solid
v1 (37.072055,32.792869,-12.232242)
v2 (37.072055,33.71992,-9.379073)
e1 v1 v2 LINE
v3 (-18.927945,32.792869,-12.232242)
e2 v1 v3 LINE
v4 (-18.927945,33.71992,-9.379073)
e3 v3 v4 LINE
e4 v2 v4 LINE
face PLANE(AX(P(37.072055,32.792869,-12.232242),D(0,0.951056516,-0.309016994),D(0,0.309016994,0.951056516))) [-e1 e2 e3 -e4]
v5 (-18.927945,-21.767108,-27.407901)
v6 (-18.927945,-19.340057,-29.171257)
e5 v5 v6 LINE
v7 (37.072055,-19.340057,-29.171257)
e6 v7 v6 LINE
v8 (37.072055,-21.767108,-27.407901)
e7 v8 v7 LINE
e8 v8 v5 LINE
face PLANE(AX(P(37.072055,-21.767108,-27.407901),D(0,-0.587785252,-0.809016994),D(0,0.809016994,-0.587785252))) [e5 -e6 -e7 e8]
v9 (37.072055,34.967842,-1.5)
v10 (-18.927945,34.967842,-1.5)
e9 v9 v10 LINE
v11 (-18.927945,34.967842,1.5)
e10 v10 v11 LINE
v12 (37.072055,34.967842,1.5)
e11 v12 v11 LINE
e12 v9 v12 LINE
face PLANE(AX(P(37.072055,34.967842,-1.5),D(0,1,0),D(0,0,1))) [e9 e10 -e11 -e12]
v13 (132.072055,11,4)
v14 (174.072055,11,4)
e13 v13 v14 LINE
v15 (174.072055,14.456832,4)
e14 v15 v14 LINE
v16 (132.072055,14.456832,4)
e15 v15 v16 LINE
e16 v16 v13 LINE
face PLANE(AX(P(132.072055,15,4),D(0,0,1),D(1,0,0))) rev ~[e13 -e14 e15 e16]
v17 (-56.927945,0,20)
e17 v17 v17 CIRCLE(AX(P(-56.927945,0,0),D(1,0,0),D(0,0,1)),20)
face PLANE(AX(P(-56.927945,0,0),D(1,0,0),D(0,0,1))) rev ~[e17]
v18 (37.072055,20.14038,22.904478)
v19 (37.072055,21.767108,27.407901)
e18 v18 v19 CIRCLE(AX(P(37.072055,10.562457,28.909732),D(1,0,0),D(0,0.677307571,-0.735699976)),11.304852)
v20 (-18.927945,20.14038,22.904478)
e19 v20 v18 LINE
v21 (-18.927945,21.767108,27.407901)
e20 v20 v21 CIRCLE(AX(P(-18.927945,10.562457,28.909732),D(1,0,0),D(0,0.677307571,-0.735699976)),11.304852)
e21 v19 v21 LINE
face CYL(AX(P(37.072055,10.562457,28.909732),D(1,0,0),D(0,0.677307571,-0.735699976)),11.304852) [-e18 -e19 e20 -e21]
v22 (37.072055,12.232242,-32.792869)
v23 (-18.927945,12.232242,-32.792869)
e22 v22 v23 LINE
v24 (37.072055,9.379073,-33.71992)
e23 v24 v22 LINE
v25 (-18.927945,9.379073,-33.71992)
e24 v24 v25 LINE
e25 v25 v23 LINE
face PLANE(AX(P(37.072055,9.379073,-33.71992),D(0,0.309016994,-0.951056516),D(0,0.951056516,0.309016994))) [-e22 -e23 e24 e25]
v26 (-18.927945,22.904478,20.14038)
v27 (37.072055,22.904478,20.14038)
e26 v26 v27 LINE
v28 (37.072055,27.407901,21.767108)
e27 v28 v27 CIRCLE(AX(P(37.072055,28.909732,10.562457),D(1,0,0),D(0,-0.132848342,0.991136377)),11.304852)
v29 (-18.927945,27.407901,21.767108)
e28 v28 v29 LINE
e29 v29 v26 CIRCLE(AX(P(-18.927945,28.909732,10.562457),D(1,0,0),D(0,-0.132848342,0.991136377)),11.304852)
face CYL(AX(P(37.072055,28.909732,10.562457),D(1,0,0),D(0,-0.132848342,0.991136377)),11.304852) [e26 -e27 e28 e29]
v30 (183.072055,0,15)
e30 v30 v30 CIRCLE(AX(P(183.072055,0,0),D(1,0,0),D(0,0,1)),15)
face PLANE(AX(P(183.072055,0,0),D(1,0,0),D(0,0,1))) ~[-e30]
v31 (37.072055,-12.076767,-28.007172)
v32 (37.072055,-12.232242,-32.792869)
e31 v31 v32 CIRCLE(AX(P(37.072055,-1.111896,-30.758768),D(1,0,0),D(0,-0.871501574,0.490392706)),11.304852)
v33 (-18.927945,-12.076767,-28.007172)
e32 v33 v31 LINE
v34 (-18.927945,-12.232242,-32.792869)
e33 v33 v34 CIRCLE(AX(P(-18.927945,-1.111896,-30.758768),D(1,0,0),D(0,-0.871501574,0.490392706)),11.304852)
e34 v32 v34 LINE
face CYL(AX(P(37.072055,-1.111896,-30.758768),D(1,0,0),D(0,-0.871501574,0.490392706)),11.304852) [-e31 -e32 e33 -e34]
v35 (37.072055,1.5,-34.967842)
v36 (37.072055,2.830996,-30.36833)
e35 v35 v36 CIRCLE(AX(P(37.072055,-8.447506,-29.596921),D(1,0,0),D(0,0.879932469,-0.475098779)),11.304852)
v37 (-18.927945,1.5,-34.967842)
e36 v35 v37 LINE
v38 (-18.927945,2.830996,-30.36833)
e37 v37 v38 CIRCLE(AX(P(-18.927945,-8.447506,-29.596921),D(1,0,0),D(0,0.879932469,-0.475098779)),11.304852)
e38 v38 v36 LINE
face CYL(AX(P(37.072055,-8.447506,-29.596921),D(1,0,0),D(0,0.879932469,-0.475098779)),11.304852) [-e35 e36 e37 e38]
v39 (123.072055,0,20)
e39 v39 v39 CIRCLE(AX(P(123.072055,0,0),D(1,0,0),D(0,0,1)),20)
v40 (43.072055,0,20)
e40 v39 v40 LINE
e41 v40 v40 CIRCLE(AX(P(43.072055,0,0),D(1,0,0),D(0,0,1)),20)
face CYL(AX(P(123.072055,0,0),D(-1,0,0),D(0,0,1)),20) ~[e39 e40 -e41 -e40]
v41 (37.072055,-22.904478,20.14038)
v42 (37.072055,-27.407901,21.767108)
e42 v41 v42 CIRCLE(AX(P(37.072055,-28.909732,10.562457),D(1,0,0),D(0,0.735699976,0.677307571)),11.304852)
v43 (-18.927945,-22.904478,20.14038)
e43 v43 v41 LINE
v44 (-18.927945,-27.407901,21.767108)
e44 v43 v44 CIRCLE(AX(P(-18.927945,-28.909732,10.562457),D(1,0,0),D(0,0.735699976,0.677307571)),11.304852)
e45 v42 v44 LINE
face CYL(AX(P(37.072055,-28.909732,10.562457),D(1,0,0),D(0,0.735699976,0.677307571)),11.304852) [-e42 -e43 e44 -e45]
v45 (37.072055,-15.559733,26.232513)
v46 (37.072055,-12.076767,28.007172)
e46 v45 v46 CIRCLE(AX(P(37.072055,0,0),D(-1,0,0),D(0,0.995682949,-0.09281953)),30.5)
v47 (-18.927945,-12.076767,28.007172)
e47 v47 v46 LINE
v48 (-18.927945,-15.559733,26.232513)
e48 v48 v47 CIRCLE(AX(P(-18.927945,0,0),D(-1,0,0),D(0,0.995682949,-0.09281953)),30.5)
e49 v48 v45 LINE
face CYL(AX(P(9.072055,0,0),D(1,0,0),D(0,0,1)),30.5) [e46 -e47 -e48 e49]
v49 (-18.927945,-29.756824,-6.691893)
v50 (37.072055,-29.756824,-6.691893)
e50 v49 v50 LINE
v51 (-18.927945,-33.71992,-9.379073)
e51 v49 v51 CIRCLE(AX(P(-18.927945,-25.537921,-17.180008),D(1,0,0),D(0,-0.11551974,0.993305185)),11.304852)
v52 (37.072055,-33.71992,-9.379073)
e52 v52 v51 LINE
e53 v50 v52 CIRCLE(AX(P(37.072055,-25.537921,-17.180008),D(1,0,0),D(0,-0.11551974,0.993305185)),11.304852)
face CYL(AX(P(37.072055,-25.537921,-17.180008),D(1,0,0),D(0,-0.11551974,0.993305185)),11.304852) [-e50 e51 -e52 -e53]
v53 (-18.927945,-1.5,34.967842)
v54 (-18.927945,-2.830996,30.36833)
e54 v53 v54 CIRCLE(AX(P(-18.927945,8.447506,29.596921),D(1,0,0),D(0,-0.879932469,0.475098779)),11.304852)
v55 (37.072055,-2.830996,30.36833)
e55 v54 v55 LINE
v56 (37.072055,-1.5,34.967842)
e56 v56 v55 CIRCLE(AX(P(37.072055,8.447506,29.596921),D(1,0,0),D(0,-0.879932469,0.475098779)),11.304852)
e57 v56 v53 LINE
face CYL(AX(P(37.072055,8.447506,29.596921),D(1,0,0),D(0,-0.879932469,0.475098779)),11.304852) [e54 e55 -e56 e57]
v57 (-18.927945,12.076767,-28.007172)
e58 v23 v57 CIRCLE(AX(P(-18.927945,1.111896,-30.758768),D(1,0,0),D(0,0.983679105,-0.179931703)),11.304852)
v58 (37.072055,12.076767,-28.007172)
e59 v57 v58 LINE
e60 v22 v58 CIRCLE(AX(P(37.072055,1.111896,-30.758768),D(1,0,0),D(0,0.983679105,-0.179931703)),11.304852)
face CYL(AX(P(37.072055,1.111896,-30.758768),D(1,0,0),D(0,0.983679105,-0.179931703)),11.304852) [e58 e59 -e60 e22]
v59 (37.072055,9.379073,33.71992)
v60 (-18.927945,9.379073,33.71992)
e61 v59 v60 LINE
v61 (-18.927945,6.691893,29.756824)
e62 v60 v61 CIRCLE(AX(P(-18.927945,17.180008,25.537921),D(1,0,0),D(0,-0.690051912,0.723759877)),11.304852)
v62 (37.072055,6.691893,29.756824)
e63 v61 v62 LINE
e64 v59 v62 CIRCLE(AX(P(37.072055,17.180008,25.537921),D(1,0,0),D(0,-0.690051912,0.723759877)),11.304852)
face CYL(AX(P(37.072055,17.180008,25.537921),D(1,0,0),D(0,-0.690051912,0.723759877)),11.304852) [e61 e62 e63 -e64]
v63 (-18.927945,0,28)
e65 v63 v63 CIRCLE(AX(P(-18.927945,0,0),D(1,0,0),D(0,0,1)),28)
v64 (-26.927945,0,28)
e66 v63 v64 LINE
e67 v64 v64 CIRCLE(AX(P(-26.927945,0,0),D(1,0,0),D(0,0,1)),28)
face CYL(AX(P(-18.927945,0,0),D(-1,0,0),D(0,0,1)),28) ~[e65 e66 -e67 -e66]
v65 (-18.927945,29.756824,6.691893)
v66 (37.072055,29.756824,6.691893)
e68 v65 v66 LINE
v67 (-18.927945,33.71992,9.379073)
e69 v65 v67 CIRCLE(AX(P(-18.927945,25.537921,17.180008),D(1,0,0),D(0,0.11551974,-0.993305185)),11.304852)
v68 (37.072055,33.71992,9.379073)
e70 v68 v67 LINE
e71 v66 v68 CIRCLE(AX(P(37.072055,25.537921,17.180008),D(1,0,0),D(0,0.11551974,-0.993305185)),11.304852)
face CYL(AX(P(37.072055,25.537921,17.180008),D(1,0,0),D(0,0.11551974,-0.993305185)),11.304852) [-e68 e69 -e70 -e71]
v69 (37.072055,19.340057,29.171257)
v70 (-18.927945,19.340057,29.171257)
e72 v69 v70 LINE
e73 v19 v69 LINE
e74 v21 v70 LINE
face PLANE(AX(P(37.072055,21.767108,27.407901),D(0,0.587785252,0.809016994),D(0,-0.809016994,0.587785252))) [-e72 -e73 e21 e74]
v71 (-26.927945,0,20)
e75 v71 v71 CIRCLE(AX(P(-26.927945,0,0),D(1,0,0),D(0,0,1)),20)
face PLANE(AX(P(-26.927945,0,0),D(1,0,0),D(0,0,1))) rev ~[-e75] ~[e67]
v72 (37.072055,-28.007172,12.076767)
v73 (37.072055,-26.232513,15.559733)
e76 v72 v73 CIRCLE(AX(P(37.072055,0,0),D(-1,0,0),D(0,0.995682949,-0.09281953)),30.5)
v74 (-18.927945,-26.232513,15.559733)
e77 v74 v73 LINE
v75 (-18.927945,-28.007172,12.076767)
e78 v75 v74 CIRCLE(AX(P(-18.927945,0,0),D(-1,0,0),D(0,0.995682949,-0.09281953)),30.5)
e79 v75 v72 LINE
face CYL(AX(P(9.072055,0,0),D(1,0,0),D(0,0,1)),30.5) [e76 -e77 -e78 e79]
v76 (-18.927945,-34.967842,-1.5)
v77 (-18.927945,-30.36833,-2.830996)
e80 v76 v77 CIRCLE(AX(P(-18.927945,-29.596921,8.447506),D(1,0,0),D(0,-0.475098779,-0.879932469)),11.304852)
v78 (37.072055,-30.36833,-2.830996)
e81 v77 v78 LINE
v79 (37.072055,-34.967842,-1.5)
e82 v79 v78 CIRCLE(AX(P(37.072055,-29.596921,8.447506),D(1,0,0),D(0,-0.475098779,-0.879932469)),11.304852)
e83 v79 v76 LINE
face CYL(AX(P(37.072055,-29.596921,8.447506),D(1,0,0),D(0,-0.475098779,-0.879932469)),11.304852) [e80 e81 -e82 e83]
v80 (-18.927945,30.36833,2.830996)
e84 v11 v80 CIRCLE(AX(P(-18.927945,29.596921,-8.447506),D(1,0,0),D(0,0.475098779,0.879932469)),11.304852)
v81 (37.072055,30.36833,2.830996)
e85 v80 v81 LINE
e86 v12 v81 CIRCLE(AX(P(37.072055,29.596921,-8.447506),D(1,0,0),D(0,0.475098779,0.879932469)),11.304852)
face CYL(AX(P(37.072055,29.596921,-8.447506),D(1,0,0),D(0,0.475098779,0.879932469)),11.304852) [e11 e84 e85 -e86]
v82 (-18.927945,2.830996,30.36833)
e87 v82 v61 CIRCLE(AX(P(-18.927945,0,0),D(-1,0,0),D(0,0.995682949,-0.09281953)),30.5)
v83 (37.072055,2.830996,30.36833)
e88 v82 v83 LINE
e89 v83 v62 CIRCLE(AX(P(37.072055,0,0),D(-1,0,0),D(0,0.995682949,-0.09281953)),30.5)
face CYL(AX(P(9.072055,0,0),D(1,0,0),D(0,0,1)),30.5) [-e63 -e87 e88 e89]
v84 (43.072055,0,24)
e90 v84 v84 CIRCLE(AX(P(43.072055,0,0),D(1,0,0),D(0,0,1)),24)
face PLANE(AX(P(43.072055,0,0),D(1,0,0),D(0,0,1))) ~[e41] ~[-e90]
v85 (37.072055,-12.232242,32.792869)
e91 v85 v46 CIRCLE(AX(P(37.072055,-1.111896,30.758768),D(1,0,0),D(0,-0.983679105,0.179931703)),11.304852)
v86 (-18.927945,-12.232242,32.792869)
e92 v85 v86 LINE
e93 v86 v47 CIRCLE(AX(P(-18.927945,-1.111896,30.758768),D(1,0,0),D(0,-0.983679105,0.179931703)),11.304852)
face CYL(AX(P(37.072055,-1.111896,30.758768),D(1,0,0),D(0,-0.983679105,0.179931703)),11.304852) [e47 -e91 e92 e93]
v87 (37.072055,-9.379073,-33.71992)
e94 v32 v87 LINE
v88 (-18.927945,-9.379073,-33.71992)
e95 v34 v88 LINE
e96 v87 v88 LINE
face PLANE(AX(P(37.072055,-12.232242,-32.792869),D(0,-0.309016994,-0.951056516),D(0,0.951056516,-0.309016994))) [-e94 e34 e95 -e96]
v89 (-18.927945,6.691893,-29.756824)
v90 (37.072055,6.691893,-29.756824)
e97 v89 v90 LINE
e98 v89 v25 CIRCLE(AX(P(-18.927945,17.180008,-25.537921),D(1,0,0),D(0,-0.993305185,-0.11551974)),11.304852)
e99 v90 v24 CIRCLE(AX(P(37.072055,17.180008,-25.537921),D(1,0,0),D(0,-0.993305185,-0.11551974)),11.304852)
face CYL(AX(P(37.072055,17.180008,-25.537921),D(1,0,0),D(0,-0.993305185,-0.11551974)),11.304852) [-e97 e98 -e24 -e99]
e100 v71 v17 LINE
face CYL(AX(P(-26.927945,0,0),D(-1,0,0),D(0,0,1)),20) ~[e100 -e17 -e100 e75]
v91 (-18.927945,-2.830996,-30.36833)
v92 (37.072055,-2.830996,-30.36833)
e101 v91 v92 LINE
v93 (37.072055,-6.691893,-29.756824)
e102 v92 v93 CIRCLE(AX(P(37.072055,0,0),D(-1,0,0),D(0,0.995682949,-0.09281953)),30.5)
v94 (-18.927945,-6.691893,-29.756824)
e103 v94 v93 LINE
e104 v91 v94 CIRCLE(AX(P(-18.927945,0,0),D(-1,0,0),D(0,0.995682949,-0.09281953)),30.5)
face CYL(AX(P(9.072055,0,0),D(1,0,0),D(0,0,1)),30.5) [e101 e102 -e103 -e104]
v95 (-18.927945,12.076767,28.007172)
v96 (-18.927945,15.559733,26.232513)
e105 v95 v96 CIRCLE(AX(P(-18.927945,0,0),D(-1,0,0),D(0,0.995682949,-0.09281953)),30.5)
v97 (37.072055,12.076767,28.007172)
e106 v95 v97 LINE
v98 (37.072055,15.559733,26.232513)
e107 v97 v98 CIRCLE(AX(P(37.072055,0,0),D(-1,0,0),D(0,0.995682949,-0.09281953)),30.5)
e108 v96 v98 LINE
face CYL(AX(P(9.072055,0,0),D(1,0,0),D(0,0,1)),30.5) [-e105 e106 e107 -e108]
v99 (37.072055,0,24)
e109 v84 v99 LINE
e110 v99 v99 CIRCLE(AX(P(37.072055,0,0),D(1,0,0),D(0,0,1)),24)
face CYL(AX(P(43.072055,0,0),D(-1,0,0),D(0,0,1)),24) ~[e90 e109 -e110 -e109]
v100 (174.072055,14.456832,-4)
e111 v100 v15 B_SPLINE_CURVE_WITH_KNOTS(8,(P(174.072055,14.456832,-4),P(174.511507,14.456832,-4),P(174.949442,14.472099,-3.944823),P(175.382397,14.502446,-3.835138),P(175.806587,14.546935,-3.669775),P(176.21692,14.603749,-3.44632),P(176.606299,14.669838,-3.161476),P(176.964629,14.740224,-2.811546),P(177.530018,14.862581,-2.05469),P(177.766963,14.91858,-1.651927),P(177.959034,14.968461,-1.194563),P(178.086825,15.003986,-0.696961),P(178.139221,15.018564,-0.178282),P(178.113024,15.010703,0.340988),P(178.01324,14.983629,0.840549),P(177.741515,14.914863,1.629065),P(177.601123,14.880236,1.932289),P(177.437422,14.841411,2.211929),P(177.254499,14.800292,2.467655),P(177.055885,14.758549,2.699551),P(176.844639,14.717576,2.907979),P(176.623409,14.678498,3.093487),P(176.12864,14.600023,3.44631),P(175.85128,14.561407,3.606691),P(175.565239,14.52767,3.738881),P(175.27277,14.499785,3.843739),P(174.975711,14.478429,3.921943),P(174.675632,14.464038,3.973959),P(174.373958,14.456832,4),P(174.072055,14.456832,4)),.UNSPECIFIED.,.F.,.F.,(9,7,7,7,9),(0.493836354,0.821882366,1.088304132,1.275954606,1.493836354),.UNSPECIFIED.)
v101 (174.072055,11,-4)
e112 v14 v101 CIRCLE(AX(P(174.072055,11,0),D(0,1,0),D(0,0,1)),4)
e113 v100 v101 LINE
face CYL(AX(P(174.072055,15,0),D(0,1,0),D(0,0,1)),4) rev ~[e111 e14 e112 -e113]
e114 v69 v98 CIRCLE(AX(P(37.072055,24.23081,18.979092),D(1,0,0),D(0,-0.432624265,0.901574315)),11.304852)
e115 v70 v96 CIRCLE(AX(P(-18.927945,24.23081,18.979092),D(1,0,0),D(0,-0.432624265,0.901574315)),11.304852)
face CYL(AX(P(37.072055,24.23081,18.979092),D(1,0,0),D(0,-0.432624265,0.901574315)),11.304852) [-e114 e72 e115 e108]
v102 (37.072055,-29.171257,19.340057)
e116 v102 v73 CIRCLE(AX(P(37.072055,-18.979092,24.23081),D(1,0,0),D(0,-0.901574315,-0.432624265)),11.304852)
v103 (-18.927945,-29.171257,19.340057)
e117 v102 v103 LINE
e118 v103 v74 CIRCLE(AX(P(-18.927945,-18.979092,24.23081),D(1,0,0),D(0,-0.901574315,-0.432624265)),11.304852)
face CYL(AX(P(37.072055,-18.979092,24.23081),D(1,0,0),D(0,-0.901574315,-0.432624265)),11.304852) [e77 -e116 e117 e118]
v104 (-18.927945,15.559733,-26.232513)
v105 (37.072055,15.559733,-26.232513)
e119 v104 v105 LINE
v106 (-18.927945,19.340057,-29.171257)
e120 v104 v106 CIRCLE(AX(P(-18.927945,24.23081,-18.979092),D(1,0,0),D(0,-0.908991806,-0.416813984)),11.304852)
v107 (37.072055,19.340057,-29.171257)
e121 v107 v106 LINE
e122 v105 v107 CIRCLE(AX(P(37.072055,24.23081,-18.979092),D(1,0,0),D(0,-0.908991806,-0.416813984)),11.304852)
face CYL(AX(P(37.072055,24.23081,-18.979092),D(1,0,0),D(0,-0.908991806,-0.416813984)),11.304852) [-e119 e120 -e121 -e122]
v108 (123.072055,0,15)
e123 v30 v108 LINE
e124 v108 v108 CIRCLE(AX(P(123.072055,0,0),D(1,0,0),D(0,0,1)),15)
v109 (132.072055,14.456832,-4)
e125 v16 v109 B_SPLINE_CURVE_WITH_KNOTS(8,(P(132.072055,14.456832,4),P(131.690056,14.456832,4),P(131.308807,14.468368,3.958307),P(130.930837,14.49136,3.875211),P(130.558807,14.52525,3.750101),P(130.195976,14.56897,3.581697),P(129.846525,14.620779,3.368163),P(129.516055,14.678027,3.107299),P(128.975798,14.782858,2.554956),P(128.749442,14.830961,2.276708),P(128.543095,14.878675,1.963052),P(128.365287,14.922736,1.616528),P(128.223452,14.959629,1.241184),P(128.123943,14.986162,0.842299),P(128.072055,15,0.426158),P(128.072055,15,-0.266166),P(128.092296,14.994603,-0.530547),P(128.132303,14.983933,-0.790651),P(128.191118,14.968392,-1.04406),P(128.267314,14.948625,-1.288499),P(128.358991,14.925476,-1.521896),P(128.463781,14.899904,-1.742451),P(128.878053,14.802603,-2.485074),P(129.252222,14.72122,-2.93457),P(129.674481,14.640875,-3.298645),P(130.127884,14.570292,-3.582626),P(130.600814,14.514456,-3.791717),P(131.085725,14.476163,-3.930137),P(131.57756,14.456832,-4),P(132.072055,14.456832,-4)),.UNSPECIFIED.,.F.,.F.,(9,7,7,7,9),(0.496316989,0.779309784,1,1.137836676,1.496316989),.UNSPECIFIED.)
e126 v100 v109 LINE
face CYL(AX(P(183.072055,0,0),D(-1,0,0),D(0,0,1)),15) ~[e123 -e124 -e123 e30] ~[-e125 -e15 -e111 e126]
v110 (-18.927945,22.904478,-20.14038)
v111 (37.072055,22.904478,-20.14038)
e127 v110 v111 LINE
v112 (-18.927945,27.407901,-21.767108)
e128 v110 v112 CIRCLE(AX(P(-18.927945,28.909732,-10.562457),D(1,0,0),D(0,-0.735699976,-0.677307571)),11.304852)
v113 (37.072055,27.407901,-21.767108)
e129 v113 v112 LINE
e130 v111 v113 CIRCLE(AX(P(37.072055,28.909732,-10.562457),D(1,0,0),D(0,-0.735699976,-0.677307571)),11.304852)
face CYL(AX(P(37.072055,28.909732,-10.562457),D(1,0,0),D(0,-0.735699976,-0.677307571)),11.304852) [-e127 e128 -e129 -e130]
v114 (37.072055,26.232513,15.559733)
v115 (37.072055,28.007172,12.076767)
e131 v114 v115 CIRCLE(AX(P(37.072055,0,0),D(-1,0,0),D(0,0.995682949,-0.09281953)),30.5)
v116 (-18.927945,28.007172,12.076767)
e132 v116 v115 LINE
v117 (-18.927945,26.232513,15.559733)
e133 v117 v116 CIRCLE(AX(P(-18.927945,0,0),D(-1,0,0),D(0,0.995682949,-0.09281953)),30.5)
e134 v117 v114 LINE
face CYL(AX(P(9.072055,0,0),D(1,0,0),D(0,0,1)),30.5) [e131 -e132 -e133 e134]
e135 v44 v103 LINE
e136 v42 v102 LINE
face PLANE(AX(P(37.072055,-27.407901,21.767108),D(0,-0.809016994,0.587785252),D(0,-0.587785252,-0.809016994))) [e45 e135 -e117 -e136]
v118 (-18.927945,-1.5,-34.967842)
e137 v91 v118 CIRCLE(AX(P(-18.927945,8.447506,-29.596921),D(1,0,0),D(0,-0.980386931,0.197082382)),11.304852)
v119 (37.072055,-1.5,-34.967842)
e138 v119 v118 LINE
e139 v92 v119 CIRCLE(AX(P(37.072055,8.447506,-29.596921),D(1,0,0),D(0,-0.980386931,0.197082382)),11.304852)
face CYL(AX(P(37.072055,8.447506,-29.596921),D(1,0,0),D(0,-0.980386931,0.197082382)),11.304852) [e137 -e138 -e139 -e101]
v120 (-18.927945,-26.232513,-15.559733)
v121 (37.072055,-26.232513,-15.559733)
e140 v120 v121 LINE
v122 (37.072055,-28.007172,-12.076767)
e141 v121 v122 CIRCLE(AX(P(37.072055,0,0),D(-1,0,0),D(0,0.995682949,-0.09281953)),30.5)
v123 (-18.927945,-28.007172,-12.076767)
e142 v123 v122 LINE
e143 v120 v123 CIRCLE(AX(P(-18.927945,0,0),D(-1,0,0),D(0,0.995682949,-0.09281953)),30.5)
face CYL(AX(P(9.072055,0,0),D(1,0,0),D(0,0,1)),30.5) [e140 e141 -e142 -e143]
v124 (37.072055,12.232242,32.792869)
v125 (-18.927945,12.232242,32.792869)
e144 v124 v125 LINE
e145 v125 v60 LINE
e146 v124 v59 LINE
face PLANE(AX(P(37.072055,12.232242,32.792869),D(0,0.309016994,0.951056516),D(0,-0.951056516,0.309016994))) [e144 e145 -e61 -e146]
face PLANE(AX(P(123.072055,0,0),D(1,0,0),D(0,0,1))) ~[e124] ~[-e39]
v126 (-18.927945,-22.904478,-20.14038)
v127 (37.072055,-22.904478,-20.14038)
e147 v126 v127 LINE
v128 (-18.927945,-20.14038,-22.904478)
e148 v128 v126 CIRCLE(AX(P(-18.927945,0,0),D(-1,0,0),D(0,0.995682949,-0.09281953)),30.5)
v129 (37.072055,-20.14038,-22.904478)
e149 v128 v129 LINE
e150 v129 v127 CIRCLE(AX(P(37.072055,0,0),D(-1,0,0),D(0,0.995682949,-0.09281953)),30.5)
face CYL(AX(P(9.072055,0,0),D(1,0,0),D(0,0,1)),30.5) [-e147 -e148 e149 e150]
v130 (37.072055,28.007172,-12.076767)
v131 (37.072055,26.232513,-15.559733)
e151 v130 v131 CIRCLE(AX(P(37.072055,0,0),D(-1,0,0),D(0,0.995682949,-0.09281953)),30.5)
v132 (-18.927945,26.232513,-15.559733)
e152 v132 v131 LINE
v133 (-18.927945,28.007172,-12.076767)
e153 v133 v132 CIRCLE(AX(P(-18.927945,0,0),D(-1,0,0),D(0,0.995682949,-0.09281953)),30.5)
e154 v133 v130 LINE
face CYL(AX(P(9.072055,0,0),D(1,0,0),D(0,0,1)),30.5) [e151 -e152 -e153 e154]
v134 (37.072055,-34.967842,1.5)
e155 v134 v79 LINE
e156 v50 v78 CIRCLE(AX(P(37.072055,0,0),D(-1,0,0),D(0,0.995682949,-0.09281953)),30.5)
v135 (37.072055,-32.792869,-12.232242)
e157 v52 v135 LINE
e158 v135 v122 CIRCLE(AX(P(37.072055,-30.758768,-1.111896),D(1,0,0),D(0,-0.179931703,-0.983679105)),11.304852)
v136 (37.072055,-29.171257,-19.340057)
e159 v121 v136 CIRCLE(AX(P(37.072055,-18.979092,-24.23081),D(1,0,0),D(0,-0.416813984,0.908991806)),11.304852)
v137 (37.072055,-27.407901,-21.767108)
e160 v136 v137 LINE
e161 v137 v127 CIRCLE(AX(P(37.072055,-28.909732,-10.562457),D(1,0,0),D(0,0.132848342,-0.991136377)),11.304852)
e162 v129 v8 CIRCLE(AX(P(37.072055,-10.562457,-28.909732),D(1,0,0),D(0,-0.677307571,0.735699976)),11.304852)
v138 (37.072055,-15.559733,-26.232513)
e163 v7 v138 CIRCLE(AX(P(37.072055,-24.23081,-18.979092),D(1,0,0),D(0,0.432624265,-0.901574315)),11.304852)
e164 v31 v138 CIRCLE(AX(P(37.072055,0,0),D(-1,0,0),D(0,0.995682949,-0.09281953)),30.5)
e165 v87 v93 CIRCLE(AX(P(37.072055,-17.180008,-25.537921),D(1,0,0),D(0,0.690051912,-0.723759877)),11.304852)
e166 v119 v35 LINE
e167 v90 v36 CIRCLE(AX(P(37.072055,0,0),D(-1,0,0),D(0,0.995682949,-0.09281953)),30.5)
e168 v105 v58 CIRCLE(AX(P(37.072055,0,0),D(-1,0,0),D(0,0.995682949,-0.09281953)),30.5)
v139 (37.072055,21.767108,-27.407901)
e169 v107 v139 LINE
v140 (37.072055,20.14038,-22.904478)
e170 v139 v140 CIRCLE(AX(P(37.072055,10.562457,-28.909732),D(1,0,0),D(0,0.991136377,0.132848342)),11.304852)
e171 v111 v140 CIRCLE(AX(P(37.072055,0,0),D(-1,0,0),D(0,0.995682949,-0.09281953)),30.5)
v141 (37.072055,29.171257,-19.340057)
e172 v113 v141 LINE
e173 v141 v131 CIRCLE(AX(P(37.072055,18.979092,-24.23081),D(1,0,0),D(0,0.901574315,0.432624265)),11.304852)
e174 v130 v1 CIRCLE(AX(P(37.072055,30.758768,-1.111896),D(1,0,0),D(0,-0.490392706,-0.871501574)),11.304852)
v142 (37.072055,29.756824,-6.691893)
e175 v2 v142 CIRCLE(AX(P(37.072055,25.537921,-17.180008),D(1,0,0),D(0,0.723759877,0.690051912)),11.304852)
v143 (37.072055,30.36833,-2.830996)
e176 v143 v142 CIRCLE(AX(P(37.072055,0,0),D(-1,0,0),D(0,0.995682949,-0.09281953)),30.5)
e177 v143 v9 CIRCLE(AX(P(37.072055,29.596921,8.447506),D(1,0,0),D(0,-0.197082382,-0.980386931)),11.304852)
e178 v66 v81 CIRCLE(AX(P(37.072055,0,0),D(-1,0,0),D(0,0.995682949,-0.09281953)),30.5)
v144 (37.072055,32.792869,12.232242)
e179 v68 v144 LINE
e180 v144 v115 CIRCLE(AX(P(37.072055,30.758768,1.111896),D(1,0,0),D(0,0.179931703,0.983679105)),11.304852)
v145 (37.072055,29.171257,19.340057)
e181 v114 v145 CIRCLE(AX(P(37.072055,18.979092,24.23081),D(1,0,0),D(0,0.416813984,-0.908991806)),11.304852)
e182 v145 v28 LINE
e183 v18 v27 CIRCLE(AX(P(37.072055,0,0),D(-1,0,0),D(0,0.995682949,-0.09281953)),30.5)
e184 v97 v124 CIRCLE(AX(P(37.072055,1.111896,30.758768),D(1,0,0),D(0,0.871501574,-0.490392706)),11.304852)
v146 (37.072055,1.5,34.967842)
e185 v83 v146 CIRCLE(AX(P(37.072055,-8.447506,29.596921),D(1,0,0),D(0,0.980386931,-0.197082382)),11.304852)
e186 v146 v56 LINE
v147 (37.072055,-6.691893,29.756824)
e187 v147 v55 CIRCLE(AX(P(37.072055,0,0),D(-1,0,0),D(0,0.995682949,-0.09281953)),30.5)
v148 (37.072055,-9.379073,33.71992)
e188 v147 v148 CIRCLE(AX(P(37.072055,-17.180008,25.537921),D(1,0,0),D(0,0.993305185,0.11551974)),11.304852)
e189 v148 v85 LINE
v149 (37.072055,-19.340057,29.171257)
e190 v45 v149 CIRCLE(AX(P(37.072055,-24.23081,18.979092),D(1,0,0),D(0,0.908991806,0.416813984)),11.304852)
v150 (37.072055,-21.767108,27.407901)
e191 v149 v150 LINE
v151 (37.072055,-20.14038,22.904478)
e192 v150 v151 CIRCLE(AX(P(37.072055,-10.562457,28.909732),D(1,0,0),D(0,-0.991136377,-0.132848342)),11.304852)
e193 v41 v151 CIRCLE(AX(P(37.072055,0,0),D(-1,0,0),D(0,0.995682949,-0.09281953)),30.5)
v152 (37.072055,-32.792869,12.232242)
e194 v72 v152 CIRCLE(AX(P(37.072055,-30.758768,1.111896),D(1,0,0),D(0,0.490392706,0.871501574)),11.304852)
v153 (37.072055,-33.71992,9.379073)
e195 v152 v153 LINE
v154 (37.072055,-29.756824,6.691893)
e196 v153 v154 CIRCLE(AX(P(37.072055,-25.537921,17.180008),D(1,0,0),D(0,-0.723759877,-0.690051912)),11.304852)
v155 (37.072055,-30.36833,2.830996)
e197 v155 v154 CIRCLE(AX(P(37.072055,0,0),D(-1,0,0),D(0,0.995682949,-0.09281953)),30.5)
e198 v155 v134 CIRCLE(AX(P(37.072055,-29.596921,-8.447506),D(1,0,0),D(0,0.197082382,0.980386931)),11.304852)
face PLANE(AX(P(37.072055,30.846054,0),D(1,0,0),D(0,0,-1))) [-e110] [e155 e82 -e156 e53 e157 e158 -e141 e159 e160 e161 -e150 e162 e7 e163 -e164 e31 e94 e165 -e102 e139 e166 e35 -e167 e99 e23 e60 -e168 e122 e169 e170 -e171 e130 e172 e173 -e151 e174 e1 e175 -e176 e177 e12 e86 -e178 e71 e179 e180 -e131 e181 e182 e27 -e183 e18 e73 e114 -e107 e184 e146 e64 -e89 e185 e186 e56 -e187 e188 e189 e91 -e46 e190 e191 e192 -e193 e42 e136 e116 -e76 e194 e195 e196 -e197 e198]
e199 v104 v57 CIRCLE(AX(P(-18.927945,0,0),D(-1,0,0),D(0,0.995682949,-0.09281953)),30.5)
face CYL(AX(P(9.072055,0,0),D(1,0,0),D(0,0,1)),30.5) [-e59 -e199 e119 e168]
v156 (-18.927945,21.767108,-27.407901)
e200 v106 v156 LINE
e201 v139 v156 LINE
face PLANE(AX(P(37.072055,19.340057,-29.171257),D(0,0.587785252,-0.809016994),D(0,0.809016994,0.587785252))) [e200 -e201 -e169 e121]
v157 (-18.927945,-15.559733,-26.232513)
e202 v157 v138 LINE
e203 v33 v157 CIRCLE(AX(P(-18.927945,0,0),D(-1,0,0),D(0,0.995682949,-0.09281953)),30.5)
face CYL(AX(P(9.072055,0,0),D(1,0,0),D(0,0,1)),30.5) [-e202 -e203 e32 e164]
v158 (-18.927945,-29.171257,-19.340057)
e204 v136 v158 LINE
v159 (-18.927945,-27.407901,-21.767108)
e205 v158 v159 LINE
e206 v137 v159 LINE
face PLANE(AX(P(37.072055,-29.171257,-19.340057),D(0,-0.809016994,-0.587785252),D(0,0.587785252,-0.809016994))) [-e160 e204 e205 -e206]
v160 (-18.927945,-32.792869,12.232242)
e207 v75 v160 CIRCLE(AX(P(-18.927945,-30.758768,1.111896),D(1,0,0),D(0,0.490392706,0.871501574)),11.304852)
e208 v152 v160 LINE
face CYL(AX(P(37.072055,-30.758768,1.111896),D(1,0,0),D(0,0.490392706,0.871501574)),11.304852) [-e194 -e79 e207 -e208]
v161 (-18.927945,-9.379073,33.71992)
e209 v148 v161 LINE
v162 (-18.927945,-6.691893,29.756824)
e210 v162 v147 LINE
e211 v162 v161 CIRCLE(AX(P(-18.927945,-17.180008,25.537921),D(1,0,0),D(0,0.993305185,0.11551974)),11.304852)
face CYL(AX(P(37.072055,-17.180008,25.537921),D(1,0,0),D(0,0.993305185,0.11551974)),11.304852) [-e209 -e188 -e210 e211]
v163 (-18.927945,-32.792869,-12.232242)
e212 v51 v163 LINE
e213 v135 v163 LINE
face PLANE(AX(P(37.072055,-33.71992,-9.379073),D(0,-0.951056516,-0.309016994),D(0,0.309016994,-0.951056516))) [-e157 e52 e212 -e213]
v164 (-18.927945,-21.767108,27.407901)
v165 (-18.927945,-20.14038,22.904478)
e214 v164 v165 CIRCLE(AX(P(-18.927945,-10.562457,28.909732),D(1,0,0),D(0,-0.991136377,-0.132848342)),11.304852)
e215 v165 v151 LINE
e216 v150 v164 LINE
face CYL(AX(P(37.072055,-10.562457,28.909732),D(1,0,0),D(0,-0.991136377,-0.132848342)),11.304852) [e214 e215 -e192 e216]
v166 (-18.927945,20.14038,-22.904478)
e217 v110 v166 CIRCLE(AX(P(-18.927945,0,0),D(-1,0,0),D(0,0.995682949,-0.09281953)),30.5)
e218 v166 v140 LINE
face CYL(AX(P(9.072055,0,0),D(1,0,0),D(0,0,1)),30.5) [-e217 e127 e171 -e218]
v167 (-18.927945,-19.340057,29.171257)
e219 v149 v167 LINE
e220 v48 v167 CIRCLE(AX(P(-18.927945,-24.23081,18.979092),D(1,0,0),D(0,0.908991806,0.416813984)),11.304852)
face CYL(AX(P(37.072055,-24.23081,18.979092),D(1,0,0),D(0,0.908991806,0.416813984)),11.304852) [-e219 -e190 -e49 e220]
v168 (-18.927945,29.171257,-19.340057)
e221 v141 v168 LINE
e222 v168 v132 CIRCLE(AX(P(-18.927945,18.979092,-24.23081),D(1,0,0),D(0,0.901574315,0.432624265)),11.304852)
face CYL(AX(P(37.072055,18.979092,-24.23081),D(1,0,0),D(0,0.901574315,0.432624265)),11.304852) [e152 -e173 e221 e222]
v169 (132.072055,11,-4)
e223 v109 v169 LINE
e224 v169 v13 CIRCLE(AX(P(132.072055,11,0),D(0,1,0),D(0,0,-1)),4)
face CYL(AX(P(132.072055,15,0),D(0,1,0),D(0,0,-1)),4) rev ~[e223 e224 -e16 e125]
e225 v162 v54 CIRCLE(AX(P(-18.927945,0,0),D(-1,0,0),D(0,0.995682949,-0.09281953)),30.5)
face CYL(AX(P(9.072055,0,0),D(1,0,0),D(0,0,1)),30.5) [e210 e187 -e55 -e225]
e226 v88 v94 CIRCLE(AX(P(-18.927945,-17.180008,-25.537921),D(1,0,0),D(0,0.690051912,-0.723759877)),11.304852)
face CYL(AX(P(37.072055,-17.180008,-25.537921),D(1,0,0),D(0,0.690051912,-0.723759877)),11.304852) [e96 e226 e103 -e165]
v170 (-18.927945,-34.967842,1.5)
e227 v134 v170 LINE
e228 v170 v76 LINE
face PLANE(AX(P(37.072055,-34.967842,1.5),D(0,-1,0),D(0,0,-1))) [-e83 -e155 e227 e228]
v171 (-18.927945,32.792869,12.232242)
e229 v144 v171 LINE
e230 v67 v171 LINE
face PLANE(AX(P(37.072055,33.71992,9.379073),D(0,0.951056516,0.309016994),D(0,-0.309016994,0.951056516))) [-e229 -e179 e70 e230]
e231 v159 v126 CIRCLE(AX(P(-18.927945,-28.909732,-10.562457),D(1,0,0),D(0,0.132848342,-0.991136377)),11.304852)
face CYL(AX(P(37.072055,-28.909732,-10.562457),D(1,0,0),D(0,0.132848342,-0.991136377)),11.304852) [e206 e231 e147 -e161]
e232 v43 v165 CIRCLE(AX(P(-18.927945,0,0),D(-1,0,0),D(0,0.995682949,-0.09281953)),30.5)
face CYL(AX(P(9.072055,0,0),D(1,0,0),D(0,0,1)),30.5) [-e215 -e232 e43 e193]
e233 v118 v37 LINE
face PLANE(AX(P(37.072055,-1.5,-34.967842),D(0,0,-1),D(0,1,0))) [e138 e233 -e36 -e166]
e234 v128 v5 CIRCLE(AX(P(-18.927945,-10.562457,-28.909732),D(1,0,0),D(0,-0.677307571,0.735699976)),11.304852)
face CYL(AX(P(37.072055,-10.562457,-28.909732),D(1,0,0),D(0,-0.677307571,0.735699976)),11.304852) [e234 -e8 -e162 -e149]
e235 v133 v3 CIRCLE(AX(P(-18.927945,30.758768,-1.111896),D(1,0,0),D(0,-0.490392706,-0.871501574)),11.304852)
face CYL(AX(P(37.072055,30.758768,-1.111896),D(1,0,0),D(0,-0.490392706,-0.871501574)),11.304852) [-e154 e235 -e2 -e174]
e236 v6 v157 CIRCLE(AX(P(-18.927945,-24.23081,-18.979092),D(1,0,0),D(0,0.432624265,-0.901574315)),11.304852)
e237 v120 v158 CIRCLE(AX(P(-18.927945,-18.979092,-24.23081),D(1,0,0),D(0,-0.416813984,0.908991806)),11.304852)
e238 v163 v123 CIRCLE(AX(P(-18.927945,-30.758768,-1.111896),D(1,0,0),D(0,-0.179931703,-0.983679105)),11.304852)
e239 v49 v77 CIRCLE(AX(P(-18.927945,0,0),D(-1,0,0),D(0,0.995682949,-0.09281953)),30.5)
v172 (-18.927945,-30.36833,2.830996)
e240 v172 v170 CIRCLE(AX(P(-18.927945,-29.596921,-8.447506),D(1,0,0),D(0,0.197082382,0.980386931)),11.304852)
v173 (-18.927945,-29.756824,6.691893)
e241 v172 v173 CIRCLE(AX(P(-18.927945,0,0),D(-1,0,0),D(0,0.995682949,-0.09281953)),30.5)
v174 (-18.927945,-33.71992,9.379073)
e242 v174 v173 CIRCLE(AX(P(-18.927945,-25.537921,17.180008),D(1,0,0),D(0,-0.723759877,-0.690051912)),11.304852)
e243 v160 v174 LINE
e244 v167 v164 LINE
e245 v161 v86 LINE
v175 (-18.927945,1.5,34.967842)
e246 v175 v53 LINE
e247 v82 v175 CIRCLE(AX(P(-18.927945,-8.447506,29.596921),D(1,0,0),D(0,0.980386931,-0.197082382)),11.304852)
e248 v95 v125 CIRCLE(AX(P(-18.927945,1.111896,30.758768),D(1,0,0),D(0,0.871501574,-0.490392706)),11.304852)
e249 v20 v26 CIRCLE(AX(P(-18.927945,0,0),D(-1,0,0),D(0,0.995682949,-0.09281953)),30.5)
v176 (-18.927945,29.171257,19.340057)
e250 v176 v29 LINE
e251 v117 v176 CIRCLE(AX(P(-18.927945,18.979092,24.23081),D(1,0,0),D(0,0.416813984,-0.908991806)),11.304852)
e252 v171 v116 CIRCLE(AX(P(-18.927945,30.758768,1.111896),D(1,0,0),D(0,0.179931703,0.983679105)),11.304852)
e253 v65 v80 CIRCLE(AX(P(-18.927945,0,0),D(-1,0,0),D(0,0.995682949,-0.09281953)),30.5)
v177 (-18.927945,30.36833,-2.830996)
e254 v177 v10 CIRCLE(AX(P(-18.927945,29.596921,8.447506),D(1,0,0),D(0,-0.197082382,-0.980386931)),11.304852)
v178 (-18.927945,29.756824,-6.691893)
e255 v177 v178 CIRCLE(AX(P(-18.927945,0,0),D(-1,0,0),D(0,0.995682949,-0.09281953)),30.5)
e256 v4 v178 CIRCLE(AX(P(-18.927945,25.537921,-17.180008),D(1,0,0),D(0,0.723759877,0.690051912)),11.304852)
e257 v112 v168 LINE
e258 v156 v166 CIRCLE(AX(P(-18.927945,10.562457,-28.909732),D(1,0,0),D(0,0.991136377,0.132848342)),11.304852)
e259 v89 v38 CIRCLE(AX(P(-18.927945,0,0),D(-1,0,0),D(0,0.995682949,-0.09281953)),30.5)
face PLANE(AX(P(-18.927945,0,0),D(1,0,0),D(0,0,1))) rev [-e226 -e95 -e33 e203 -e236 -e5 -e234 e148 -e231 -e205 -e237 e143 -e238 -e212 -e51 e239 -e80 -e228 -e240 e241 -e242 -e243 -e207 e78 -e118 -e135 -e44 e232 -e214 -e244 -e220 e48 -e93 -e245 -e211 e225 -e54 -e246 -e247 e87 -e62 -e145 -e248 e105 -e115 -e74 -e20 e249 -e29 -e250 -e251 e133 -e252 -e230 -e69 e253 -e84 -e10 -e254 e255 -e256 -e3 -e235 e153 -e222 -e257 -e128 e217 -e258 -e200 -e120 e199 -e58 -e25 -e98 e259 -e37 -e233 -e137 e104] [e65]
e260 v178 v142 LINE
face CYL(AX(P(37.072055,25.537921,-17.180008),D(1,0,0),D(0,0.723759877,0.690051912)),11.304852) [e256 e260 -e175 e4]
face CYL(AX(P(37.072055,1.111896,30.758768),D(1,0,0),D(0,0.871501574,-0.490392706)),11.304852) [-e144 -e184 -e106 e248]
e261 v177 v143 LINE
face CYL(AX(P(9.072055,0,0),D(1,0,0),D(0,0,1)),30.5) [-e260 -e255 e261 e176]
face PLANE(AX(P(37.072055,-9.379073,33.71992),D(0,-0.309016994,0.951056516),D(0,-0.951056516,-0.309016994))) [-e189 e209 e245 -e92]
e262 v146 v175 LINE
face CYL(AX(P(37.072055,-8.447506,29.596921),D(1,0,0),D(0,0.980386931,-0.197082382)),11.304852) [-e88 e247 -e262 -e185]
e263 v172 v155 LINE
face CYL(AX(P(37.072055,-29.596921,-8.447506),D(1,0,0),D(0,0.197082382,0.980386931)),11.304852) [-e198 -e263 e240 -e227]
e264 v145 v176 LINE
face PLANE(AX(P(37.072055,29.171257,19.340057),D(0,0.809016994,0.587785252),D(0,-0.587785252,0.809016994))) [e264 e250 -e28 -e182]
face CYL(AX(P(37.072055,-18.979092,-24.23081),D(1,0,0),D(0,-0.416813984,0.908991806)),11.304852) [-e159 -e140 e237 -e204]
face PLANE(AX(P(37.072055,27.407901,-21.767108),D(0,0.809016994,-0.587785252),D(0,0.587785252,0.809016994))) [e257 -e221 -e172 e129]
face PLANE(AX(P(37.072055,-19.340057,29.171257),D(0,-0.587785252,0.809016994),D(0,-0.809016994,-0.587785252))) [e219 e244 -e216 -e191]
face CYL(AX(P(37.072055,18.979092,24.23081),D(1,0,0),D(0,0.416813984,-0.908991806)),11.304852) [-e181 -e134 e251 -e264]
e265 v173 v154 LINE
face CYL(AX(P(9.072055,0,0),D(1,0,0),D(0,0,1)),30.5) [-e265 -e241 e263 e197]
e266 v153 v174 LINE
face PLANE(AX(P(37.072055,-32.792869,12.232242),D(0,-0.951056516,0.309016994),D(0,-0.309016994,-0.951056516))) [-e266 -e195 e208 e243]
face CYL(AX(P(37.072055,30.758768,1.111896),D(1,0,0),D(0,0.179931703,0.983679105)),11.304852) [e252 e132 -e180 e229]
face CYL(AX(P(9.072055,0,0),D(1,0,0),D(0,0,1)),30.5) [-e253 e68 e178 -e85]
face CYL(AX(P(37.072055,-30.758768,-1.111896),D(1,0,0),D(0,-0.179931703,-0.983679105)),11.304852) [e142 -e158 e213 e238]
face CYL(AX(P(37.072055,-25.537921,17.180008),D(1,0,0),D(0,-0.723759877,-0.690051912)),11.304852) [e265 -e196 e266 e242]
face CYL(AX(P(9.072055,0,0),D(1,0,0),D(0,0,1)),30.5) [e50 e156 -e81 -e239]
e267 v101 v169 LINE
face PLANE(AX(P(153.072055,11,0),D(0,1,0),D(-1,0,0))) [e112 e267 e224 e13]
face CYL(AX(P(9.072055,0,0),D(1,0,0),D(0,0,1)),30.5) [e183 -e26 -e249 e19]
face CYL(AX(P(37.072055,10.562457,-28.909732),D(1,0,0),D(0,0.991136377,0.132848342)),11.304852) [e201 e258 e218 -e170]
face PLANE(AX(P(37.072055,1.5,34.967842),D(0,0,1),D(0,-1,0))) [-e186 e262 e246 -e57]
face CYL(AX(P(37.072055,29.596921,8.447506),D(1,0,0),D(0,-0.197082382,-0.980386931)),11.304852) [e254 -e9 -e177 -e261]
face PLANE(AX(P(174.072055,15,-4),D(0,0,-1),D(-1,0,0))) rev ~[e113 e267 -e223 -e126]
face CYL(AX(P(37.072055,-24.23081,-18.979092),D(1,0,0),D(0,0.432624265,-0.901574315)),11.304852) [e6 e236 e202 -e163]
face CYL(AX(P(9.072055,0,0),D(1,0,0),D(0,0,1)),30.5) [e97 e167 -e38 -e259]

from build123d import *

# Parameters (mm, degrees)
CUT_EXTRUDE_1_DEPTH      = 4
SKETCH_3_W               = 56
SKETCH_3_H               = 6.5
EXTRUDE_1_DEPTH          = 56
PATTERN_CIRCULAR_1_COUNT = 20


with BuildPart() as part:
    # 草图1 → 旋转2 (revolve)
    with BuildSketch(Plane.XY, mode=Mode.PRIVATE) as revolve_2_sk:
        Polygon((-56.927945362, 0), (183.072054638, 0), (183.072054638, 15), (123.072054638, 15), (123.072054638, 20), (43.072054638, 20), (43.072054638, 24), (-18.927945362, 24), (-18.927945362, 28), (-26.927945362, 28), (-26.927945362, 20), (-56.927945362, 20), align=None)
    revolve(revolve_2_sk.sketch.rotate(Axis((-87.906104207, 0, 0), (1, 0, 0)), 90), axis=Axis((-87.906104207, 0, 0), (1, 0, 0)))

    # 草图2 → 切除-拉伸1 (cut)
    with BuildSketch(Plane(origin=(0, 15, 0), x_dir=(-1, 0, 0), z_dir=(0, 1, 0))):
        with BuildLine():
            Line((-174.072054638, -4), (-132.072054638, -4))
            ThreePointArc((-132.072054638, -4), (-128.072054638, 0), (-132.072054638, 4))
            Line((-132.072054638, 4), (-174.072054638, 4))
            ThreePointArc((-174.072054638, 4), (-178.072054638, 0), (-174.072054638, -4))
        make_face()
    extrude(amount=-CUT_EXTRUDE_1_DEPTH, mode=Mode.SUBTRACT)

    # 草图3 → 旋转4 (revolve)
    with BuildSketch(Plane.XY, mode=Mode.PRIVATE) as revolve_4_sk:
        with Locations((9.072054638, 27.25)):
            Rectangle(SKETCH_3_W, SKETCH_3_H)
    revolve(revolve_4_sk.sketch.rotate(Axis((-56.927945362, 0, 0), (1, 0, 0)), 90), axis=Axis((-56.927945362, 0, 0), (1, 0, 0)))

    # 草图5 → 凸台-拉伸1 (add)
    with BuildSketch(Plane(origin=(37.072054638, 0, 0), x_dir=(0, 0, -1), z_dir=(1, 0, 0))):
        with BuildLine():
            Line((-2.63562284, 27.368933751), (2.63562284, 27.368933751))
            ThreePointArc((2.63562284, 27.368933751), (2.733180603, 31.267824503), (1.5, 34.96784237))
            Line((1.5, 34.96784237), (-1.5, 34.96784237))
            ThreePointArc((-1.5, 34.96784237), (-2.733180603, 31.267824503), (-2.63562284, 27.368933751))
        make_face()
    extrude_1 = extrude(amount=-EXTRUDE_1_DEPTH)

    # 阵列(圆周)1: 凸台-拉伸1 ×20 about axis
    pattern_circular_1_axis = Axis((0, 0, 0), (1, 0, 0))
    for i in range(1, PATTERN_CIRCULAR_1_COUNT):
        add(extrude_1.rotate(pattern_circular_1_axis, i * 360 / PATTERN_CIRCULAR_1_COUNT))


solid = part.part
